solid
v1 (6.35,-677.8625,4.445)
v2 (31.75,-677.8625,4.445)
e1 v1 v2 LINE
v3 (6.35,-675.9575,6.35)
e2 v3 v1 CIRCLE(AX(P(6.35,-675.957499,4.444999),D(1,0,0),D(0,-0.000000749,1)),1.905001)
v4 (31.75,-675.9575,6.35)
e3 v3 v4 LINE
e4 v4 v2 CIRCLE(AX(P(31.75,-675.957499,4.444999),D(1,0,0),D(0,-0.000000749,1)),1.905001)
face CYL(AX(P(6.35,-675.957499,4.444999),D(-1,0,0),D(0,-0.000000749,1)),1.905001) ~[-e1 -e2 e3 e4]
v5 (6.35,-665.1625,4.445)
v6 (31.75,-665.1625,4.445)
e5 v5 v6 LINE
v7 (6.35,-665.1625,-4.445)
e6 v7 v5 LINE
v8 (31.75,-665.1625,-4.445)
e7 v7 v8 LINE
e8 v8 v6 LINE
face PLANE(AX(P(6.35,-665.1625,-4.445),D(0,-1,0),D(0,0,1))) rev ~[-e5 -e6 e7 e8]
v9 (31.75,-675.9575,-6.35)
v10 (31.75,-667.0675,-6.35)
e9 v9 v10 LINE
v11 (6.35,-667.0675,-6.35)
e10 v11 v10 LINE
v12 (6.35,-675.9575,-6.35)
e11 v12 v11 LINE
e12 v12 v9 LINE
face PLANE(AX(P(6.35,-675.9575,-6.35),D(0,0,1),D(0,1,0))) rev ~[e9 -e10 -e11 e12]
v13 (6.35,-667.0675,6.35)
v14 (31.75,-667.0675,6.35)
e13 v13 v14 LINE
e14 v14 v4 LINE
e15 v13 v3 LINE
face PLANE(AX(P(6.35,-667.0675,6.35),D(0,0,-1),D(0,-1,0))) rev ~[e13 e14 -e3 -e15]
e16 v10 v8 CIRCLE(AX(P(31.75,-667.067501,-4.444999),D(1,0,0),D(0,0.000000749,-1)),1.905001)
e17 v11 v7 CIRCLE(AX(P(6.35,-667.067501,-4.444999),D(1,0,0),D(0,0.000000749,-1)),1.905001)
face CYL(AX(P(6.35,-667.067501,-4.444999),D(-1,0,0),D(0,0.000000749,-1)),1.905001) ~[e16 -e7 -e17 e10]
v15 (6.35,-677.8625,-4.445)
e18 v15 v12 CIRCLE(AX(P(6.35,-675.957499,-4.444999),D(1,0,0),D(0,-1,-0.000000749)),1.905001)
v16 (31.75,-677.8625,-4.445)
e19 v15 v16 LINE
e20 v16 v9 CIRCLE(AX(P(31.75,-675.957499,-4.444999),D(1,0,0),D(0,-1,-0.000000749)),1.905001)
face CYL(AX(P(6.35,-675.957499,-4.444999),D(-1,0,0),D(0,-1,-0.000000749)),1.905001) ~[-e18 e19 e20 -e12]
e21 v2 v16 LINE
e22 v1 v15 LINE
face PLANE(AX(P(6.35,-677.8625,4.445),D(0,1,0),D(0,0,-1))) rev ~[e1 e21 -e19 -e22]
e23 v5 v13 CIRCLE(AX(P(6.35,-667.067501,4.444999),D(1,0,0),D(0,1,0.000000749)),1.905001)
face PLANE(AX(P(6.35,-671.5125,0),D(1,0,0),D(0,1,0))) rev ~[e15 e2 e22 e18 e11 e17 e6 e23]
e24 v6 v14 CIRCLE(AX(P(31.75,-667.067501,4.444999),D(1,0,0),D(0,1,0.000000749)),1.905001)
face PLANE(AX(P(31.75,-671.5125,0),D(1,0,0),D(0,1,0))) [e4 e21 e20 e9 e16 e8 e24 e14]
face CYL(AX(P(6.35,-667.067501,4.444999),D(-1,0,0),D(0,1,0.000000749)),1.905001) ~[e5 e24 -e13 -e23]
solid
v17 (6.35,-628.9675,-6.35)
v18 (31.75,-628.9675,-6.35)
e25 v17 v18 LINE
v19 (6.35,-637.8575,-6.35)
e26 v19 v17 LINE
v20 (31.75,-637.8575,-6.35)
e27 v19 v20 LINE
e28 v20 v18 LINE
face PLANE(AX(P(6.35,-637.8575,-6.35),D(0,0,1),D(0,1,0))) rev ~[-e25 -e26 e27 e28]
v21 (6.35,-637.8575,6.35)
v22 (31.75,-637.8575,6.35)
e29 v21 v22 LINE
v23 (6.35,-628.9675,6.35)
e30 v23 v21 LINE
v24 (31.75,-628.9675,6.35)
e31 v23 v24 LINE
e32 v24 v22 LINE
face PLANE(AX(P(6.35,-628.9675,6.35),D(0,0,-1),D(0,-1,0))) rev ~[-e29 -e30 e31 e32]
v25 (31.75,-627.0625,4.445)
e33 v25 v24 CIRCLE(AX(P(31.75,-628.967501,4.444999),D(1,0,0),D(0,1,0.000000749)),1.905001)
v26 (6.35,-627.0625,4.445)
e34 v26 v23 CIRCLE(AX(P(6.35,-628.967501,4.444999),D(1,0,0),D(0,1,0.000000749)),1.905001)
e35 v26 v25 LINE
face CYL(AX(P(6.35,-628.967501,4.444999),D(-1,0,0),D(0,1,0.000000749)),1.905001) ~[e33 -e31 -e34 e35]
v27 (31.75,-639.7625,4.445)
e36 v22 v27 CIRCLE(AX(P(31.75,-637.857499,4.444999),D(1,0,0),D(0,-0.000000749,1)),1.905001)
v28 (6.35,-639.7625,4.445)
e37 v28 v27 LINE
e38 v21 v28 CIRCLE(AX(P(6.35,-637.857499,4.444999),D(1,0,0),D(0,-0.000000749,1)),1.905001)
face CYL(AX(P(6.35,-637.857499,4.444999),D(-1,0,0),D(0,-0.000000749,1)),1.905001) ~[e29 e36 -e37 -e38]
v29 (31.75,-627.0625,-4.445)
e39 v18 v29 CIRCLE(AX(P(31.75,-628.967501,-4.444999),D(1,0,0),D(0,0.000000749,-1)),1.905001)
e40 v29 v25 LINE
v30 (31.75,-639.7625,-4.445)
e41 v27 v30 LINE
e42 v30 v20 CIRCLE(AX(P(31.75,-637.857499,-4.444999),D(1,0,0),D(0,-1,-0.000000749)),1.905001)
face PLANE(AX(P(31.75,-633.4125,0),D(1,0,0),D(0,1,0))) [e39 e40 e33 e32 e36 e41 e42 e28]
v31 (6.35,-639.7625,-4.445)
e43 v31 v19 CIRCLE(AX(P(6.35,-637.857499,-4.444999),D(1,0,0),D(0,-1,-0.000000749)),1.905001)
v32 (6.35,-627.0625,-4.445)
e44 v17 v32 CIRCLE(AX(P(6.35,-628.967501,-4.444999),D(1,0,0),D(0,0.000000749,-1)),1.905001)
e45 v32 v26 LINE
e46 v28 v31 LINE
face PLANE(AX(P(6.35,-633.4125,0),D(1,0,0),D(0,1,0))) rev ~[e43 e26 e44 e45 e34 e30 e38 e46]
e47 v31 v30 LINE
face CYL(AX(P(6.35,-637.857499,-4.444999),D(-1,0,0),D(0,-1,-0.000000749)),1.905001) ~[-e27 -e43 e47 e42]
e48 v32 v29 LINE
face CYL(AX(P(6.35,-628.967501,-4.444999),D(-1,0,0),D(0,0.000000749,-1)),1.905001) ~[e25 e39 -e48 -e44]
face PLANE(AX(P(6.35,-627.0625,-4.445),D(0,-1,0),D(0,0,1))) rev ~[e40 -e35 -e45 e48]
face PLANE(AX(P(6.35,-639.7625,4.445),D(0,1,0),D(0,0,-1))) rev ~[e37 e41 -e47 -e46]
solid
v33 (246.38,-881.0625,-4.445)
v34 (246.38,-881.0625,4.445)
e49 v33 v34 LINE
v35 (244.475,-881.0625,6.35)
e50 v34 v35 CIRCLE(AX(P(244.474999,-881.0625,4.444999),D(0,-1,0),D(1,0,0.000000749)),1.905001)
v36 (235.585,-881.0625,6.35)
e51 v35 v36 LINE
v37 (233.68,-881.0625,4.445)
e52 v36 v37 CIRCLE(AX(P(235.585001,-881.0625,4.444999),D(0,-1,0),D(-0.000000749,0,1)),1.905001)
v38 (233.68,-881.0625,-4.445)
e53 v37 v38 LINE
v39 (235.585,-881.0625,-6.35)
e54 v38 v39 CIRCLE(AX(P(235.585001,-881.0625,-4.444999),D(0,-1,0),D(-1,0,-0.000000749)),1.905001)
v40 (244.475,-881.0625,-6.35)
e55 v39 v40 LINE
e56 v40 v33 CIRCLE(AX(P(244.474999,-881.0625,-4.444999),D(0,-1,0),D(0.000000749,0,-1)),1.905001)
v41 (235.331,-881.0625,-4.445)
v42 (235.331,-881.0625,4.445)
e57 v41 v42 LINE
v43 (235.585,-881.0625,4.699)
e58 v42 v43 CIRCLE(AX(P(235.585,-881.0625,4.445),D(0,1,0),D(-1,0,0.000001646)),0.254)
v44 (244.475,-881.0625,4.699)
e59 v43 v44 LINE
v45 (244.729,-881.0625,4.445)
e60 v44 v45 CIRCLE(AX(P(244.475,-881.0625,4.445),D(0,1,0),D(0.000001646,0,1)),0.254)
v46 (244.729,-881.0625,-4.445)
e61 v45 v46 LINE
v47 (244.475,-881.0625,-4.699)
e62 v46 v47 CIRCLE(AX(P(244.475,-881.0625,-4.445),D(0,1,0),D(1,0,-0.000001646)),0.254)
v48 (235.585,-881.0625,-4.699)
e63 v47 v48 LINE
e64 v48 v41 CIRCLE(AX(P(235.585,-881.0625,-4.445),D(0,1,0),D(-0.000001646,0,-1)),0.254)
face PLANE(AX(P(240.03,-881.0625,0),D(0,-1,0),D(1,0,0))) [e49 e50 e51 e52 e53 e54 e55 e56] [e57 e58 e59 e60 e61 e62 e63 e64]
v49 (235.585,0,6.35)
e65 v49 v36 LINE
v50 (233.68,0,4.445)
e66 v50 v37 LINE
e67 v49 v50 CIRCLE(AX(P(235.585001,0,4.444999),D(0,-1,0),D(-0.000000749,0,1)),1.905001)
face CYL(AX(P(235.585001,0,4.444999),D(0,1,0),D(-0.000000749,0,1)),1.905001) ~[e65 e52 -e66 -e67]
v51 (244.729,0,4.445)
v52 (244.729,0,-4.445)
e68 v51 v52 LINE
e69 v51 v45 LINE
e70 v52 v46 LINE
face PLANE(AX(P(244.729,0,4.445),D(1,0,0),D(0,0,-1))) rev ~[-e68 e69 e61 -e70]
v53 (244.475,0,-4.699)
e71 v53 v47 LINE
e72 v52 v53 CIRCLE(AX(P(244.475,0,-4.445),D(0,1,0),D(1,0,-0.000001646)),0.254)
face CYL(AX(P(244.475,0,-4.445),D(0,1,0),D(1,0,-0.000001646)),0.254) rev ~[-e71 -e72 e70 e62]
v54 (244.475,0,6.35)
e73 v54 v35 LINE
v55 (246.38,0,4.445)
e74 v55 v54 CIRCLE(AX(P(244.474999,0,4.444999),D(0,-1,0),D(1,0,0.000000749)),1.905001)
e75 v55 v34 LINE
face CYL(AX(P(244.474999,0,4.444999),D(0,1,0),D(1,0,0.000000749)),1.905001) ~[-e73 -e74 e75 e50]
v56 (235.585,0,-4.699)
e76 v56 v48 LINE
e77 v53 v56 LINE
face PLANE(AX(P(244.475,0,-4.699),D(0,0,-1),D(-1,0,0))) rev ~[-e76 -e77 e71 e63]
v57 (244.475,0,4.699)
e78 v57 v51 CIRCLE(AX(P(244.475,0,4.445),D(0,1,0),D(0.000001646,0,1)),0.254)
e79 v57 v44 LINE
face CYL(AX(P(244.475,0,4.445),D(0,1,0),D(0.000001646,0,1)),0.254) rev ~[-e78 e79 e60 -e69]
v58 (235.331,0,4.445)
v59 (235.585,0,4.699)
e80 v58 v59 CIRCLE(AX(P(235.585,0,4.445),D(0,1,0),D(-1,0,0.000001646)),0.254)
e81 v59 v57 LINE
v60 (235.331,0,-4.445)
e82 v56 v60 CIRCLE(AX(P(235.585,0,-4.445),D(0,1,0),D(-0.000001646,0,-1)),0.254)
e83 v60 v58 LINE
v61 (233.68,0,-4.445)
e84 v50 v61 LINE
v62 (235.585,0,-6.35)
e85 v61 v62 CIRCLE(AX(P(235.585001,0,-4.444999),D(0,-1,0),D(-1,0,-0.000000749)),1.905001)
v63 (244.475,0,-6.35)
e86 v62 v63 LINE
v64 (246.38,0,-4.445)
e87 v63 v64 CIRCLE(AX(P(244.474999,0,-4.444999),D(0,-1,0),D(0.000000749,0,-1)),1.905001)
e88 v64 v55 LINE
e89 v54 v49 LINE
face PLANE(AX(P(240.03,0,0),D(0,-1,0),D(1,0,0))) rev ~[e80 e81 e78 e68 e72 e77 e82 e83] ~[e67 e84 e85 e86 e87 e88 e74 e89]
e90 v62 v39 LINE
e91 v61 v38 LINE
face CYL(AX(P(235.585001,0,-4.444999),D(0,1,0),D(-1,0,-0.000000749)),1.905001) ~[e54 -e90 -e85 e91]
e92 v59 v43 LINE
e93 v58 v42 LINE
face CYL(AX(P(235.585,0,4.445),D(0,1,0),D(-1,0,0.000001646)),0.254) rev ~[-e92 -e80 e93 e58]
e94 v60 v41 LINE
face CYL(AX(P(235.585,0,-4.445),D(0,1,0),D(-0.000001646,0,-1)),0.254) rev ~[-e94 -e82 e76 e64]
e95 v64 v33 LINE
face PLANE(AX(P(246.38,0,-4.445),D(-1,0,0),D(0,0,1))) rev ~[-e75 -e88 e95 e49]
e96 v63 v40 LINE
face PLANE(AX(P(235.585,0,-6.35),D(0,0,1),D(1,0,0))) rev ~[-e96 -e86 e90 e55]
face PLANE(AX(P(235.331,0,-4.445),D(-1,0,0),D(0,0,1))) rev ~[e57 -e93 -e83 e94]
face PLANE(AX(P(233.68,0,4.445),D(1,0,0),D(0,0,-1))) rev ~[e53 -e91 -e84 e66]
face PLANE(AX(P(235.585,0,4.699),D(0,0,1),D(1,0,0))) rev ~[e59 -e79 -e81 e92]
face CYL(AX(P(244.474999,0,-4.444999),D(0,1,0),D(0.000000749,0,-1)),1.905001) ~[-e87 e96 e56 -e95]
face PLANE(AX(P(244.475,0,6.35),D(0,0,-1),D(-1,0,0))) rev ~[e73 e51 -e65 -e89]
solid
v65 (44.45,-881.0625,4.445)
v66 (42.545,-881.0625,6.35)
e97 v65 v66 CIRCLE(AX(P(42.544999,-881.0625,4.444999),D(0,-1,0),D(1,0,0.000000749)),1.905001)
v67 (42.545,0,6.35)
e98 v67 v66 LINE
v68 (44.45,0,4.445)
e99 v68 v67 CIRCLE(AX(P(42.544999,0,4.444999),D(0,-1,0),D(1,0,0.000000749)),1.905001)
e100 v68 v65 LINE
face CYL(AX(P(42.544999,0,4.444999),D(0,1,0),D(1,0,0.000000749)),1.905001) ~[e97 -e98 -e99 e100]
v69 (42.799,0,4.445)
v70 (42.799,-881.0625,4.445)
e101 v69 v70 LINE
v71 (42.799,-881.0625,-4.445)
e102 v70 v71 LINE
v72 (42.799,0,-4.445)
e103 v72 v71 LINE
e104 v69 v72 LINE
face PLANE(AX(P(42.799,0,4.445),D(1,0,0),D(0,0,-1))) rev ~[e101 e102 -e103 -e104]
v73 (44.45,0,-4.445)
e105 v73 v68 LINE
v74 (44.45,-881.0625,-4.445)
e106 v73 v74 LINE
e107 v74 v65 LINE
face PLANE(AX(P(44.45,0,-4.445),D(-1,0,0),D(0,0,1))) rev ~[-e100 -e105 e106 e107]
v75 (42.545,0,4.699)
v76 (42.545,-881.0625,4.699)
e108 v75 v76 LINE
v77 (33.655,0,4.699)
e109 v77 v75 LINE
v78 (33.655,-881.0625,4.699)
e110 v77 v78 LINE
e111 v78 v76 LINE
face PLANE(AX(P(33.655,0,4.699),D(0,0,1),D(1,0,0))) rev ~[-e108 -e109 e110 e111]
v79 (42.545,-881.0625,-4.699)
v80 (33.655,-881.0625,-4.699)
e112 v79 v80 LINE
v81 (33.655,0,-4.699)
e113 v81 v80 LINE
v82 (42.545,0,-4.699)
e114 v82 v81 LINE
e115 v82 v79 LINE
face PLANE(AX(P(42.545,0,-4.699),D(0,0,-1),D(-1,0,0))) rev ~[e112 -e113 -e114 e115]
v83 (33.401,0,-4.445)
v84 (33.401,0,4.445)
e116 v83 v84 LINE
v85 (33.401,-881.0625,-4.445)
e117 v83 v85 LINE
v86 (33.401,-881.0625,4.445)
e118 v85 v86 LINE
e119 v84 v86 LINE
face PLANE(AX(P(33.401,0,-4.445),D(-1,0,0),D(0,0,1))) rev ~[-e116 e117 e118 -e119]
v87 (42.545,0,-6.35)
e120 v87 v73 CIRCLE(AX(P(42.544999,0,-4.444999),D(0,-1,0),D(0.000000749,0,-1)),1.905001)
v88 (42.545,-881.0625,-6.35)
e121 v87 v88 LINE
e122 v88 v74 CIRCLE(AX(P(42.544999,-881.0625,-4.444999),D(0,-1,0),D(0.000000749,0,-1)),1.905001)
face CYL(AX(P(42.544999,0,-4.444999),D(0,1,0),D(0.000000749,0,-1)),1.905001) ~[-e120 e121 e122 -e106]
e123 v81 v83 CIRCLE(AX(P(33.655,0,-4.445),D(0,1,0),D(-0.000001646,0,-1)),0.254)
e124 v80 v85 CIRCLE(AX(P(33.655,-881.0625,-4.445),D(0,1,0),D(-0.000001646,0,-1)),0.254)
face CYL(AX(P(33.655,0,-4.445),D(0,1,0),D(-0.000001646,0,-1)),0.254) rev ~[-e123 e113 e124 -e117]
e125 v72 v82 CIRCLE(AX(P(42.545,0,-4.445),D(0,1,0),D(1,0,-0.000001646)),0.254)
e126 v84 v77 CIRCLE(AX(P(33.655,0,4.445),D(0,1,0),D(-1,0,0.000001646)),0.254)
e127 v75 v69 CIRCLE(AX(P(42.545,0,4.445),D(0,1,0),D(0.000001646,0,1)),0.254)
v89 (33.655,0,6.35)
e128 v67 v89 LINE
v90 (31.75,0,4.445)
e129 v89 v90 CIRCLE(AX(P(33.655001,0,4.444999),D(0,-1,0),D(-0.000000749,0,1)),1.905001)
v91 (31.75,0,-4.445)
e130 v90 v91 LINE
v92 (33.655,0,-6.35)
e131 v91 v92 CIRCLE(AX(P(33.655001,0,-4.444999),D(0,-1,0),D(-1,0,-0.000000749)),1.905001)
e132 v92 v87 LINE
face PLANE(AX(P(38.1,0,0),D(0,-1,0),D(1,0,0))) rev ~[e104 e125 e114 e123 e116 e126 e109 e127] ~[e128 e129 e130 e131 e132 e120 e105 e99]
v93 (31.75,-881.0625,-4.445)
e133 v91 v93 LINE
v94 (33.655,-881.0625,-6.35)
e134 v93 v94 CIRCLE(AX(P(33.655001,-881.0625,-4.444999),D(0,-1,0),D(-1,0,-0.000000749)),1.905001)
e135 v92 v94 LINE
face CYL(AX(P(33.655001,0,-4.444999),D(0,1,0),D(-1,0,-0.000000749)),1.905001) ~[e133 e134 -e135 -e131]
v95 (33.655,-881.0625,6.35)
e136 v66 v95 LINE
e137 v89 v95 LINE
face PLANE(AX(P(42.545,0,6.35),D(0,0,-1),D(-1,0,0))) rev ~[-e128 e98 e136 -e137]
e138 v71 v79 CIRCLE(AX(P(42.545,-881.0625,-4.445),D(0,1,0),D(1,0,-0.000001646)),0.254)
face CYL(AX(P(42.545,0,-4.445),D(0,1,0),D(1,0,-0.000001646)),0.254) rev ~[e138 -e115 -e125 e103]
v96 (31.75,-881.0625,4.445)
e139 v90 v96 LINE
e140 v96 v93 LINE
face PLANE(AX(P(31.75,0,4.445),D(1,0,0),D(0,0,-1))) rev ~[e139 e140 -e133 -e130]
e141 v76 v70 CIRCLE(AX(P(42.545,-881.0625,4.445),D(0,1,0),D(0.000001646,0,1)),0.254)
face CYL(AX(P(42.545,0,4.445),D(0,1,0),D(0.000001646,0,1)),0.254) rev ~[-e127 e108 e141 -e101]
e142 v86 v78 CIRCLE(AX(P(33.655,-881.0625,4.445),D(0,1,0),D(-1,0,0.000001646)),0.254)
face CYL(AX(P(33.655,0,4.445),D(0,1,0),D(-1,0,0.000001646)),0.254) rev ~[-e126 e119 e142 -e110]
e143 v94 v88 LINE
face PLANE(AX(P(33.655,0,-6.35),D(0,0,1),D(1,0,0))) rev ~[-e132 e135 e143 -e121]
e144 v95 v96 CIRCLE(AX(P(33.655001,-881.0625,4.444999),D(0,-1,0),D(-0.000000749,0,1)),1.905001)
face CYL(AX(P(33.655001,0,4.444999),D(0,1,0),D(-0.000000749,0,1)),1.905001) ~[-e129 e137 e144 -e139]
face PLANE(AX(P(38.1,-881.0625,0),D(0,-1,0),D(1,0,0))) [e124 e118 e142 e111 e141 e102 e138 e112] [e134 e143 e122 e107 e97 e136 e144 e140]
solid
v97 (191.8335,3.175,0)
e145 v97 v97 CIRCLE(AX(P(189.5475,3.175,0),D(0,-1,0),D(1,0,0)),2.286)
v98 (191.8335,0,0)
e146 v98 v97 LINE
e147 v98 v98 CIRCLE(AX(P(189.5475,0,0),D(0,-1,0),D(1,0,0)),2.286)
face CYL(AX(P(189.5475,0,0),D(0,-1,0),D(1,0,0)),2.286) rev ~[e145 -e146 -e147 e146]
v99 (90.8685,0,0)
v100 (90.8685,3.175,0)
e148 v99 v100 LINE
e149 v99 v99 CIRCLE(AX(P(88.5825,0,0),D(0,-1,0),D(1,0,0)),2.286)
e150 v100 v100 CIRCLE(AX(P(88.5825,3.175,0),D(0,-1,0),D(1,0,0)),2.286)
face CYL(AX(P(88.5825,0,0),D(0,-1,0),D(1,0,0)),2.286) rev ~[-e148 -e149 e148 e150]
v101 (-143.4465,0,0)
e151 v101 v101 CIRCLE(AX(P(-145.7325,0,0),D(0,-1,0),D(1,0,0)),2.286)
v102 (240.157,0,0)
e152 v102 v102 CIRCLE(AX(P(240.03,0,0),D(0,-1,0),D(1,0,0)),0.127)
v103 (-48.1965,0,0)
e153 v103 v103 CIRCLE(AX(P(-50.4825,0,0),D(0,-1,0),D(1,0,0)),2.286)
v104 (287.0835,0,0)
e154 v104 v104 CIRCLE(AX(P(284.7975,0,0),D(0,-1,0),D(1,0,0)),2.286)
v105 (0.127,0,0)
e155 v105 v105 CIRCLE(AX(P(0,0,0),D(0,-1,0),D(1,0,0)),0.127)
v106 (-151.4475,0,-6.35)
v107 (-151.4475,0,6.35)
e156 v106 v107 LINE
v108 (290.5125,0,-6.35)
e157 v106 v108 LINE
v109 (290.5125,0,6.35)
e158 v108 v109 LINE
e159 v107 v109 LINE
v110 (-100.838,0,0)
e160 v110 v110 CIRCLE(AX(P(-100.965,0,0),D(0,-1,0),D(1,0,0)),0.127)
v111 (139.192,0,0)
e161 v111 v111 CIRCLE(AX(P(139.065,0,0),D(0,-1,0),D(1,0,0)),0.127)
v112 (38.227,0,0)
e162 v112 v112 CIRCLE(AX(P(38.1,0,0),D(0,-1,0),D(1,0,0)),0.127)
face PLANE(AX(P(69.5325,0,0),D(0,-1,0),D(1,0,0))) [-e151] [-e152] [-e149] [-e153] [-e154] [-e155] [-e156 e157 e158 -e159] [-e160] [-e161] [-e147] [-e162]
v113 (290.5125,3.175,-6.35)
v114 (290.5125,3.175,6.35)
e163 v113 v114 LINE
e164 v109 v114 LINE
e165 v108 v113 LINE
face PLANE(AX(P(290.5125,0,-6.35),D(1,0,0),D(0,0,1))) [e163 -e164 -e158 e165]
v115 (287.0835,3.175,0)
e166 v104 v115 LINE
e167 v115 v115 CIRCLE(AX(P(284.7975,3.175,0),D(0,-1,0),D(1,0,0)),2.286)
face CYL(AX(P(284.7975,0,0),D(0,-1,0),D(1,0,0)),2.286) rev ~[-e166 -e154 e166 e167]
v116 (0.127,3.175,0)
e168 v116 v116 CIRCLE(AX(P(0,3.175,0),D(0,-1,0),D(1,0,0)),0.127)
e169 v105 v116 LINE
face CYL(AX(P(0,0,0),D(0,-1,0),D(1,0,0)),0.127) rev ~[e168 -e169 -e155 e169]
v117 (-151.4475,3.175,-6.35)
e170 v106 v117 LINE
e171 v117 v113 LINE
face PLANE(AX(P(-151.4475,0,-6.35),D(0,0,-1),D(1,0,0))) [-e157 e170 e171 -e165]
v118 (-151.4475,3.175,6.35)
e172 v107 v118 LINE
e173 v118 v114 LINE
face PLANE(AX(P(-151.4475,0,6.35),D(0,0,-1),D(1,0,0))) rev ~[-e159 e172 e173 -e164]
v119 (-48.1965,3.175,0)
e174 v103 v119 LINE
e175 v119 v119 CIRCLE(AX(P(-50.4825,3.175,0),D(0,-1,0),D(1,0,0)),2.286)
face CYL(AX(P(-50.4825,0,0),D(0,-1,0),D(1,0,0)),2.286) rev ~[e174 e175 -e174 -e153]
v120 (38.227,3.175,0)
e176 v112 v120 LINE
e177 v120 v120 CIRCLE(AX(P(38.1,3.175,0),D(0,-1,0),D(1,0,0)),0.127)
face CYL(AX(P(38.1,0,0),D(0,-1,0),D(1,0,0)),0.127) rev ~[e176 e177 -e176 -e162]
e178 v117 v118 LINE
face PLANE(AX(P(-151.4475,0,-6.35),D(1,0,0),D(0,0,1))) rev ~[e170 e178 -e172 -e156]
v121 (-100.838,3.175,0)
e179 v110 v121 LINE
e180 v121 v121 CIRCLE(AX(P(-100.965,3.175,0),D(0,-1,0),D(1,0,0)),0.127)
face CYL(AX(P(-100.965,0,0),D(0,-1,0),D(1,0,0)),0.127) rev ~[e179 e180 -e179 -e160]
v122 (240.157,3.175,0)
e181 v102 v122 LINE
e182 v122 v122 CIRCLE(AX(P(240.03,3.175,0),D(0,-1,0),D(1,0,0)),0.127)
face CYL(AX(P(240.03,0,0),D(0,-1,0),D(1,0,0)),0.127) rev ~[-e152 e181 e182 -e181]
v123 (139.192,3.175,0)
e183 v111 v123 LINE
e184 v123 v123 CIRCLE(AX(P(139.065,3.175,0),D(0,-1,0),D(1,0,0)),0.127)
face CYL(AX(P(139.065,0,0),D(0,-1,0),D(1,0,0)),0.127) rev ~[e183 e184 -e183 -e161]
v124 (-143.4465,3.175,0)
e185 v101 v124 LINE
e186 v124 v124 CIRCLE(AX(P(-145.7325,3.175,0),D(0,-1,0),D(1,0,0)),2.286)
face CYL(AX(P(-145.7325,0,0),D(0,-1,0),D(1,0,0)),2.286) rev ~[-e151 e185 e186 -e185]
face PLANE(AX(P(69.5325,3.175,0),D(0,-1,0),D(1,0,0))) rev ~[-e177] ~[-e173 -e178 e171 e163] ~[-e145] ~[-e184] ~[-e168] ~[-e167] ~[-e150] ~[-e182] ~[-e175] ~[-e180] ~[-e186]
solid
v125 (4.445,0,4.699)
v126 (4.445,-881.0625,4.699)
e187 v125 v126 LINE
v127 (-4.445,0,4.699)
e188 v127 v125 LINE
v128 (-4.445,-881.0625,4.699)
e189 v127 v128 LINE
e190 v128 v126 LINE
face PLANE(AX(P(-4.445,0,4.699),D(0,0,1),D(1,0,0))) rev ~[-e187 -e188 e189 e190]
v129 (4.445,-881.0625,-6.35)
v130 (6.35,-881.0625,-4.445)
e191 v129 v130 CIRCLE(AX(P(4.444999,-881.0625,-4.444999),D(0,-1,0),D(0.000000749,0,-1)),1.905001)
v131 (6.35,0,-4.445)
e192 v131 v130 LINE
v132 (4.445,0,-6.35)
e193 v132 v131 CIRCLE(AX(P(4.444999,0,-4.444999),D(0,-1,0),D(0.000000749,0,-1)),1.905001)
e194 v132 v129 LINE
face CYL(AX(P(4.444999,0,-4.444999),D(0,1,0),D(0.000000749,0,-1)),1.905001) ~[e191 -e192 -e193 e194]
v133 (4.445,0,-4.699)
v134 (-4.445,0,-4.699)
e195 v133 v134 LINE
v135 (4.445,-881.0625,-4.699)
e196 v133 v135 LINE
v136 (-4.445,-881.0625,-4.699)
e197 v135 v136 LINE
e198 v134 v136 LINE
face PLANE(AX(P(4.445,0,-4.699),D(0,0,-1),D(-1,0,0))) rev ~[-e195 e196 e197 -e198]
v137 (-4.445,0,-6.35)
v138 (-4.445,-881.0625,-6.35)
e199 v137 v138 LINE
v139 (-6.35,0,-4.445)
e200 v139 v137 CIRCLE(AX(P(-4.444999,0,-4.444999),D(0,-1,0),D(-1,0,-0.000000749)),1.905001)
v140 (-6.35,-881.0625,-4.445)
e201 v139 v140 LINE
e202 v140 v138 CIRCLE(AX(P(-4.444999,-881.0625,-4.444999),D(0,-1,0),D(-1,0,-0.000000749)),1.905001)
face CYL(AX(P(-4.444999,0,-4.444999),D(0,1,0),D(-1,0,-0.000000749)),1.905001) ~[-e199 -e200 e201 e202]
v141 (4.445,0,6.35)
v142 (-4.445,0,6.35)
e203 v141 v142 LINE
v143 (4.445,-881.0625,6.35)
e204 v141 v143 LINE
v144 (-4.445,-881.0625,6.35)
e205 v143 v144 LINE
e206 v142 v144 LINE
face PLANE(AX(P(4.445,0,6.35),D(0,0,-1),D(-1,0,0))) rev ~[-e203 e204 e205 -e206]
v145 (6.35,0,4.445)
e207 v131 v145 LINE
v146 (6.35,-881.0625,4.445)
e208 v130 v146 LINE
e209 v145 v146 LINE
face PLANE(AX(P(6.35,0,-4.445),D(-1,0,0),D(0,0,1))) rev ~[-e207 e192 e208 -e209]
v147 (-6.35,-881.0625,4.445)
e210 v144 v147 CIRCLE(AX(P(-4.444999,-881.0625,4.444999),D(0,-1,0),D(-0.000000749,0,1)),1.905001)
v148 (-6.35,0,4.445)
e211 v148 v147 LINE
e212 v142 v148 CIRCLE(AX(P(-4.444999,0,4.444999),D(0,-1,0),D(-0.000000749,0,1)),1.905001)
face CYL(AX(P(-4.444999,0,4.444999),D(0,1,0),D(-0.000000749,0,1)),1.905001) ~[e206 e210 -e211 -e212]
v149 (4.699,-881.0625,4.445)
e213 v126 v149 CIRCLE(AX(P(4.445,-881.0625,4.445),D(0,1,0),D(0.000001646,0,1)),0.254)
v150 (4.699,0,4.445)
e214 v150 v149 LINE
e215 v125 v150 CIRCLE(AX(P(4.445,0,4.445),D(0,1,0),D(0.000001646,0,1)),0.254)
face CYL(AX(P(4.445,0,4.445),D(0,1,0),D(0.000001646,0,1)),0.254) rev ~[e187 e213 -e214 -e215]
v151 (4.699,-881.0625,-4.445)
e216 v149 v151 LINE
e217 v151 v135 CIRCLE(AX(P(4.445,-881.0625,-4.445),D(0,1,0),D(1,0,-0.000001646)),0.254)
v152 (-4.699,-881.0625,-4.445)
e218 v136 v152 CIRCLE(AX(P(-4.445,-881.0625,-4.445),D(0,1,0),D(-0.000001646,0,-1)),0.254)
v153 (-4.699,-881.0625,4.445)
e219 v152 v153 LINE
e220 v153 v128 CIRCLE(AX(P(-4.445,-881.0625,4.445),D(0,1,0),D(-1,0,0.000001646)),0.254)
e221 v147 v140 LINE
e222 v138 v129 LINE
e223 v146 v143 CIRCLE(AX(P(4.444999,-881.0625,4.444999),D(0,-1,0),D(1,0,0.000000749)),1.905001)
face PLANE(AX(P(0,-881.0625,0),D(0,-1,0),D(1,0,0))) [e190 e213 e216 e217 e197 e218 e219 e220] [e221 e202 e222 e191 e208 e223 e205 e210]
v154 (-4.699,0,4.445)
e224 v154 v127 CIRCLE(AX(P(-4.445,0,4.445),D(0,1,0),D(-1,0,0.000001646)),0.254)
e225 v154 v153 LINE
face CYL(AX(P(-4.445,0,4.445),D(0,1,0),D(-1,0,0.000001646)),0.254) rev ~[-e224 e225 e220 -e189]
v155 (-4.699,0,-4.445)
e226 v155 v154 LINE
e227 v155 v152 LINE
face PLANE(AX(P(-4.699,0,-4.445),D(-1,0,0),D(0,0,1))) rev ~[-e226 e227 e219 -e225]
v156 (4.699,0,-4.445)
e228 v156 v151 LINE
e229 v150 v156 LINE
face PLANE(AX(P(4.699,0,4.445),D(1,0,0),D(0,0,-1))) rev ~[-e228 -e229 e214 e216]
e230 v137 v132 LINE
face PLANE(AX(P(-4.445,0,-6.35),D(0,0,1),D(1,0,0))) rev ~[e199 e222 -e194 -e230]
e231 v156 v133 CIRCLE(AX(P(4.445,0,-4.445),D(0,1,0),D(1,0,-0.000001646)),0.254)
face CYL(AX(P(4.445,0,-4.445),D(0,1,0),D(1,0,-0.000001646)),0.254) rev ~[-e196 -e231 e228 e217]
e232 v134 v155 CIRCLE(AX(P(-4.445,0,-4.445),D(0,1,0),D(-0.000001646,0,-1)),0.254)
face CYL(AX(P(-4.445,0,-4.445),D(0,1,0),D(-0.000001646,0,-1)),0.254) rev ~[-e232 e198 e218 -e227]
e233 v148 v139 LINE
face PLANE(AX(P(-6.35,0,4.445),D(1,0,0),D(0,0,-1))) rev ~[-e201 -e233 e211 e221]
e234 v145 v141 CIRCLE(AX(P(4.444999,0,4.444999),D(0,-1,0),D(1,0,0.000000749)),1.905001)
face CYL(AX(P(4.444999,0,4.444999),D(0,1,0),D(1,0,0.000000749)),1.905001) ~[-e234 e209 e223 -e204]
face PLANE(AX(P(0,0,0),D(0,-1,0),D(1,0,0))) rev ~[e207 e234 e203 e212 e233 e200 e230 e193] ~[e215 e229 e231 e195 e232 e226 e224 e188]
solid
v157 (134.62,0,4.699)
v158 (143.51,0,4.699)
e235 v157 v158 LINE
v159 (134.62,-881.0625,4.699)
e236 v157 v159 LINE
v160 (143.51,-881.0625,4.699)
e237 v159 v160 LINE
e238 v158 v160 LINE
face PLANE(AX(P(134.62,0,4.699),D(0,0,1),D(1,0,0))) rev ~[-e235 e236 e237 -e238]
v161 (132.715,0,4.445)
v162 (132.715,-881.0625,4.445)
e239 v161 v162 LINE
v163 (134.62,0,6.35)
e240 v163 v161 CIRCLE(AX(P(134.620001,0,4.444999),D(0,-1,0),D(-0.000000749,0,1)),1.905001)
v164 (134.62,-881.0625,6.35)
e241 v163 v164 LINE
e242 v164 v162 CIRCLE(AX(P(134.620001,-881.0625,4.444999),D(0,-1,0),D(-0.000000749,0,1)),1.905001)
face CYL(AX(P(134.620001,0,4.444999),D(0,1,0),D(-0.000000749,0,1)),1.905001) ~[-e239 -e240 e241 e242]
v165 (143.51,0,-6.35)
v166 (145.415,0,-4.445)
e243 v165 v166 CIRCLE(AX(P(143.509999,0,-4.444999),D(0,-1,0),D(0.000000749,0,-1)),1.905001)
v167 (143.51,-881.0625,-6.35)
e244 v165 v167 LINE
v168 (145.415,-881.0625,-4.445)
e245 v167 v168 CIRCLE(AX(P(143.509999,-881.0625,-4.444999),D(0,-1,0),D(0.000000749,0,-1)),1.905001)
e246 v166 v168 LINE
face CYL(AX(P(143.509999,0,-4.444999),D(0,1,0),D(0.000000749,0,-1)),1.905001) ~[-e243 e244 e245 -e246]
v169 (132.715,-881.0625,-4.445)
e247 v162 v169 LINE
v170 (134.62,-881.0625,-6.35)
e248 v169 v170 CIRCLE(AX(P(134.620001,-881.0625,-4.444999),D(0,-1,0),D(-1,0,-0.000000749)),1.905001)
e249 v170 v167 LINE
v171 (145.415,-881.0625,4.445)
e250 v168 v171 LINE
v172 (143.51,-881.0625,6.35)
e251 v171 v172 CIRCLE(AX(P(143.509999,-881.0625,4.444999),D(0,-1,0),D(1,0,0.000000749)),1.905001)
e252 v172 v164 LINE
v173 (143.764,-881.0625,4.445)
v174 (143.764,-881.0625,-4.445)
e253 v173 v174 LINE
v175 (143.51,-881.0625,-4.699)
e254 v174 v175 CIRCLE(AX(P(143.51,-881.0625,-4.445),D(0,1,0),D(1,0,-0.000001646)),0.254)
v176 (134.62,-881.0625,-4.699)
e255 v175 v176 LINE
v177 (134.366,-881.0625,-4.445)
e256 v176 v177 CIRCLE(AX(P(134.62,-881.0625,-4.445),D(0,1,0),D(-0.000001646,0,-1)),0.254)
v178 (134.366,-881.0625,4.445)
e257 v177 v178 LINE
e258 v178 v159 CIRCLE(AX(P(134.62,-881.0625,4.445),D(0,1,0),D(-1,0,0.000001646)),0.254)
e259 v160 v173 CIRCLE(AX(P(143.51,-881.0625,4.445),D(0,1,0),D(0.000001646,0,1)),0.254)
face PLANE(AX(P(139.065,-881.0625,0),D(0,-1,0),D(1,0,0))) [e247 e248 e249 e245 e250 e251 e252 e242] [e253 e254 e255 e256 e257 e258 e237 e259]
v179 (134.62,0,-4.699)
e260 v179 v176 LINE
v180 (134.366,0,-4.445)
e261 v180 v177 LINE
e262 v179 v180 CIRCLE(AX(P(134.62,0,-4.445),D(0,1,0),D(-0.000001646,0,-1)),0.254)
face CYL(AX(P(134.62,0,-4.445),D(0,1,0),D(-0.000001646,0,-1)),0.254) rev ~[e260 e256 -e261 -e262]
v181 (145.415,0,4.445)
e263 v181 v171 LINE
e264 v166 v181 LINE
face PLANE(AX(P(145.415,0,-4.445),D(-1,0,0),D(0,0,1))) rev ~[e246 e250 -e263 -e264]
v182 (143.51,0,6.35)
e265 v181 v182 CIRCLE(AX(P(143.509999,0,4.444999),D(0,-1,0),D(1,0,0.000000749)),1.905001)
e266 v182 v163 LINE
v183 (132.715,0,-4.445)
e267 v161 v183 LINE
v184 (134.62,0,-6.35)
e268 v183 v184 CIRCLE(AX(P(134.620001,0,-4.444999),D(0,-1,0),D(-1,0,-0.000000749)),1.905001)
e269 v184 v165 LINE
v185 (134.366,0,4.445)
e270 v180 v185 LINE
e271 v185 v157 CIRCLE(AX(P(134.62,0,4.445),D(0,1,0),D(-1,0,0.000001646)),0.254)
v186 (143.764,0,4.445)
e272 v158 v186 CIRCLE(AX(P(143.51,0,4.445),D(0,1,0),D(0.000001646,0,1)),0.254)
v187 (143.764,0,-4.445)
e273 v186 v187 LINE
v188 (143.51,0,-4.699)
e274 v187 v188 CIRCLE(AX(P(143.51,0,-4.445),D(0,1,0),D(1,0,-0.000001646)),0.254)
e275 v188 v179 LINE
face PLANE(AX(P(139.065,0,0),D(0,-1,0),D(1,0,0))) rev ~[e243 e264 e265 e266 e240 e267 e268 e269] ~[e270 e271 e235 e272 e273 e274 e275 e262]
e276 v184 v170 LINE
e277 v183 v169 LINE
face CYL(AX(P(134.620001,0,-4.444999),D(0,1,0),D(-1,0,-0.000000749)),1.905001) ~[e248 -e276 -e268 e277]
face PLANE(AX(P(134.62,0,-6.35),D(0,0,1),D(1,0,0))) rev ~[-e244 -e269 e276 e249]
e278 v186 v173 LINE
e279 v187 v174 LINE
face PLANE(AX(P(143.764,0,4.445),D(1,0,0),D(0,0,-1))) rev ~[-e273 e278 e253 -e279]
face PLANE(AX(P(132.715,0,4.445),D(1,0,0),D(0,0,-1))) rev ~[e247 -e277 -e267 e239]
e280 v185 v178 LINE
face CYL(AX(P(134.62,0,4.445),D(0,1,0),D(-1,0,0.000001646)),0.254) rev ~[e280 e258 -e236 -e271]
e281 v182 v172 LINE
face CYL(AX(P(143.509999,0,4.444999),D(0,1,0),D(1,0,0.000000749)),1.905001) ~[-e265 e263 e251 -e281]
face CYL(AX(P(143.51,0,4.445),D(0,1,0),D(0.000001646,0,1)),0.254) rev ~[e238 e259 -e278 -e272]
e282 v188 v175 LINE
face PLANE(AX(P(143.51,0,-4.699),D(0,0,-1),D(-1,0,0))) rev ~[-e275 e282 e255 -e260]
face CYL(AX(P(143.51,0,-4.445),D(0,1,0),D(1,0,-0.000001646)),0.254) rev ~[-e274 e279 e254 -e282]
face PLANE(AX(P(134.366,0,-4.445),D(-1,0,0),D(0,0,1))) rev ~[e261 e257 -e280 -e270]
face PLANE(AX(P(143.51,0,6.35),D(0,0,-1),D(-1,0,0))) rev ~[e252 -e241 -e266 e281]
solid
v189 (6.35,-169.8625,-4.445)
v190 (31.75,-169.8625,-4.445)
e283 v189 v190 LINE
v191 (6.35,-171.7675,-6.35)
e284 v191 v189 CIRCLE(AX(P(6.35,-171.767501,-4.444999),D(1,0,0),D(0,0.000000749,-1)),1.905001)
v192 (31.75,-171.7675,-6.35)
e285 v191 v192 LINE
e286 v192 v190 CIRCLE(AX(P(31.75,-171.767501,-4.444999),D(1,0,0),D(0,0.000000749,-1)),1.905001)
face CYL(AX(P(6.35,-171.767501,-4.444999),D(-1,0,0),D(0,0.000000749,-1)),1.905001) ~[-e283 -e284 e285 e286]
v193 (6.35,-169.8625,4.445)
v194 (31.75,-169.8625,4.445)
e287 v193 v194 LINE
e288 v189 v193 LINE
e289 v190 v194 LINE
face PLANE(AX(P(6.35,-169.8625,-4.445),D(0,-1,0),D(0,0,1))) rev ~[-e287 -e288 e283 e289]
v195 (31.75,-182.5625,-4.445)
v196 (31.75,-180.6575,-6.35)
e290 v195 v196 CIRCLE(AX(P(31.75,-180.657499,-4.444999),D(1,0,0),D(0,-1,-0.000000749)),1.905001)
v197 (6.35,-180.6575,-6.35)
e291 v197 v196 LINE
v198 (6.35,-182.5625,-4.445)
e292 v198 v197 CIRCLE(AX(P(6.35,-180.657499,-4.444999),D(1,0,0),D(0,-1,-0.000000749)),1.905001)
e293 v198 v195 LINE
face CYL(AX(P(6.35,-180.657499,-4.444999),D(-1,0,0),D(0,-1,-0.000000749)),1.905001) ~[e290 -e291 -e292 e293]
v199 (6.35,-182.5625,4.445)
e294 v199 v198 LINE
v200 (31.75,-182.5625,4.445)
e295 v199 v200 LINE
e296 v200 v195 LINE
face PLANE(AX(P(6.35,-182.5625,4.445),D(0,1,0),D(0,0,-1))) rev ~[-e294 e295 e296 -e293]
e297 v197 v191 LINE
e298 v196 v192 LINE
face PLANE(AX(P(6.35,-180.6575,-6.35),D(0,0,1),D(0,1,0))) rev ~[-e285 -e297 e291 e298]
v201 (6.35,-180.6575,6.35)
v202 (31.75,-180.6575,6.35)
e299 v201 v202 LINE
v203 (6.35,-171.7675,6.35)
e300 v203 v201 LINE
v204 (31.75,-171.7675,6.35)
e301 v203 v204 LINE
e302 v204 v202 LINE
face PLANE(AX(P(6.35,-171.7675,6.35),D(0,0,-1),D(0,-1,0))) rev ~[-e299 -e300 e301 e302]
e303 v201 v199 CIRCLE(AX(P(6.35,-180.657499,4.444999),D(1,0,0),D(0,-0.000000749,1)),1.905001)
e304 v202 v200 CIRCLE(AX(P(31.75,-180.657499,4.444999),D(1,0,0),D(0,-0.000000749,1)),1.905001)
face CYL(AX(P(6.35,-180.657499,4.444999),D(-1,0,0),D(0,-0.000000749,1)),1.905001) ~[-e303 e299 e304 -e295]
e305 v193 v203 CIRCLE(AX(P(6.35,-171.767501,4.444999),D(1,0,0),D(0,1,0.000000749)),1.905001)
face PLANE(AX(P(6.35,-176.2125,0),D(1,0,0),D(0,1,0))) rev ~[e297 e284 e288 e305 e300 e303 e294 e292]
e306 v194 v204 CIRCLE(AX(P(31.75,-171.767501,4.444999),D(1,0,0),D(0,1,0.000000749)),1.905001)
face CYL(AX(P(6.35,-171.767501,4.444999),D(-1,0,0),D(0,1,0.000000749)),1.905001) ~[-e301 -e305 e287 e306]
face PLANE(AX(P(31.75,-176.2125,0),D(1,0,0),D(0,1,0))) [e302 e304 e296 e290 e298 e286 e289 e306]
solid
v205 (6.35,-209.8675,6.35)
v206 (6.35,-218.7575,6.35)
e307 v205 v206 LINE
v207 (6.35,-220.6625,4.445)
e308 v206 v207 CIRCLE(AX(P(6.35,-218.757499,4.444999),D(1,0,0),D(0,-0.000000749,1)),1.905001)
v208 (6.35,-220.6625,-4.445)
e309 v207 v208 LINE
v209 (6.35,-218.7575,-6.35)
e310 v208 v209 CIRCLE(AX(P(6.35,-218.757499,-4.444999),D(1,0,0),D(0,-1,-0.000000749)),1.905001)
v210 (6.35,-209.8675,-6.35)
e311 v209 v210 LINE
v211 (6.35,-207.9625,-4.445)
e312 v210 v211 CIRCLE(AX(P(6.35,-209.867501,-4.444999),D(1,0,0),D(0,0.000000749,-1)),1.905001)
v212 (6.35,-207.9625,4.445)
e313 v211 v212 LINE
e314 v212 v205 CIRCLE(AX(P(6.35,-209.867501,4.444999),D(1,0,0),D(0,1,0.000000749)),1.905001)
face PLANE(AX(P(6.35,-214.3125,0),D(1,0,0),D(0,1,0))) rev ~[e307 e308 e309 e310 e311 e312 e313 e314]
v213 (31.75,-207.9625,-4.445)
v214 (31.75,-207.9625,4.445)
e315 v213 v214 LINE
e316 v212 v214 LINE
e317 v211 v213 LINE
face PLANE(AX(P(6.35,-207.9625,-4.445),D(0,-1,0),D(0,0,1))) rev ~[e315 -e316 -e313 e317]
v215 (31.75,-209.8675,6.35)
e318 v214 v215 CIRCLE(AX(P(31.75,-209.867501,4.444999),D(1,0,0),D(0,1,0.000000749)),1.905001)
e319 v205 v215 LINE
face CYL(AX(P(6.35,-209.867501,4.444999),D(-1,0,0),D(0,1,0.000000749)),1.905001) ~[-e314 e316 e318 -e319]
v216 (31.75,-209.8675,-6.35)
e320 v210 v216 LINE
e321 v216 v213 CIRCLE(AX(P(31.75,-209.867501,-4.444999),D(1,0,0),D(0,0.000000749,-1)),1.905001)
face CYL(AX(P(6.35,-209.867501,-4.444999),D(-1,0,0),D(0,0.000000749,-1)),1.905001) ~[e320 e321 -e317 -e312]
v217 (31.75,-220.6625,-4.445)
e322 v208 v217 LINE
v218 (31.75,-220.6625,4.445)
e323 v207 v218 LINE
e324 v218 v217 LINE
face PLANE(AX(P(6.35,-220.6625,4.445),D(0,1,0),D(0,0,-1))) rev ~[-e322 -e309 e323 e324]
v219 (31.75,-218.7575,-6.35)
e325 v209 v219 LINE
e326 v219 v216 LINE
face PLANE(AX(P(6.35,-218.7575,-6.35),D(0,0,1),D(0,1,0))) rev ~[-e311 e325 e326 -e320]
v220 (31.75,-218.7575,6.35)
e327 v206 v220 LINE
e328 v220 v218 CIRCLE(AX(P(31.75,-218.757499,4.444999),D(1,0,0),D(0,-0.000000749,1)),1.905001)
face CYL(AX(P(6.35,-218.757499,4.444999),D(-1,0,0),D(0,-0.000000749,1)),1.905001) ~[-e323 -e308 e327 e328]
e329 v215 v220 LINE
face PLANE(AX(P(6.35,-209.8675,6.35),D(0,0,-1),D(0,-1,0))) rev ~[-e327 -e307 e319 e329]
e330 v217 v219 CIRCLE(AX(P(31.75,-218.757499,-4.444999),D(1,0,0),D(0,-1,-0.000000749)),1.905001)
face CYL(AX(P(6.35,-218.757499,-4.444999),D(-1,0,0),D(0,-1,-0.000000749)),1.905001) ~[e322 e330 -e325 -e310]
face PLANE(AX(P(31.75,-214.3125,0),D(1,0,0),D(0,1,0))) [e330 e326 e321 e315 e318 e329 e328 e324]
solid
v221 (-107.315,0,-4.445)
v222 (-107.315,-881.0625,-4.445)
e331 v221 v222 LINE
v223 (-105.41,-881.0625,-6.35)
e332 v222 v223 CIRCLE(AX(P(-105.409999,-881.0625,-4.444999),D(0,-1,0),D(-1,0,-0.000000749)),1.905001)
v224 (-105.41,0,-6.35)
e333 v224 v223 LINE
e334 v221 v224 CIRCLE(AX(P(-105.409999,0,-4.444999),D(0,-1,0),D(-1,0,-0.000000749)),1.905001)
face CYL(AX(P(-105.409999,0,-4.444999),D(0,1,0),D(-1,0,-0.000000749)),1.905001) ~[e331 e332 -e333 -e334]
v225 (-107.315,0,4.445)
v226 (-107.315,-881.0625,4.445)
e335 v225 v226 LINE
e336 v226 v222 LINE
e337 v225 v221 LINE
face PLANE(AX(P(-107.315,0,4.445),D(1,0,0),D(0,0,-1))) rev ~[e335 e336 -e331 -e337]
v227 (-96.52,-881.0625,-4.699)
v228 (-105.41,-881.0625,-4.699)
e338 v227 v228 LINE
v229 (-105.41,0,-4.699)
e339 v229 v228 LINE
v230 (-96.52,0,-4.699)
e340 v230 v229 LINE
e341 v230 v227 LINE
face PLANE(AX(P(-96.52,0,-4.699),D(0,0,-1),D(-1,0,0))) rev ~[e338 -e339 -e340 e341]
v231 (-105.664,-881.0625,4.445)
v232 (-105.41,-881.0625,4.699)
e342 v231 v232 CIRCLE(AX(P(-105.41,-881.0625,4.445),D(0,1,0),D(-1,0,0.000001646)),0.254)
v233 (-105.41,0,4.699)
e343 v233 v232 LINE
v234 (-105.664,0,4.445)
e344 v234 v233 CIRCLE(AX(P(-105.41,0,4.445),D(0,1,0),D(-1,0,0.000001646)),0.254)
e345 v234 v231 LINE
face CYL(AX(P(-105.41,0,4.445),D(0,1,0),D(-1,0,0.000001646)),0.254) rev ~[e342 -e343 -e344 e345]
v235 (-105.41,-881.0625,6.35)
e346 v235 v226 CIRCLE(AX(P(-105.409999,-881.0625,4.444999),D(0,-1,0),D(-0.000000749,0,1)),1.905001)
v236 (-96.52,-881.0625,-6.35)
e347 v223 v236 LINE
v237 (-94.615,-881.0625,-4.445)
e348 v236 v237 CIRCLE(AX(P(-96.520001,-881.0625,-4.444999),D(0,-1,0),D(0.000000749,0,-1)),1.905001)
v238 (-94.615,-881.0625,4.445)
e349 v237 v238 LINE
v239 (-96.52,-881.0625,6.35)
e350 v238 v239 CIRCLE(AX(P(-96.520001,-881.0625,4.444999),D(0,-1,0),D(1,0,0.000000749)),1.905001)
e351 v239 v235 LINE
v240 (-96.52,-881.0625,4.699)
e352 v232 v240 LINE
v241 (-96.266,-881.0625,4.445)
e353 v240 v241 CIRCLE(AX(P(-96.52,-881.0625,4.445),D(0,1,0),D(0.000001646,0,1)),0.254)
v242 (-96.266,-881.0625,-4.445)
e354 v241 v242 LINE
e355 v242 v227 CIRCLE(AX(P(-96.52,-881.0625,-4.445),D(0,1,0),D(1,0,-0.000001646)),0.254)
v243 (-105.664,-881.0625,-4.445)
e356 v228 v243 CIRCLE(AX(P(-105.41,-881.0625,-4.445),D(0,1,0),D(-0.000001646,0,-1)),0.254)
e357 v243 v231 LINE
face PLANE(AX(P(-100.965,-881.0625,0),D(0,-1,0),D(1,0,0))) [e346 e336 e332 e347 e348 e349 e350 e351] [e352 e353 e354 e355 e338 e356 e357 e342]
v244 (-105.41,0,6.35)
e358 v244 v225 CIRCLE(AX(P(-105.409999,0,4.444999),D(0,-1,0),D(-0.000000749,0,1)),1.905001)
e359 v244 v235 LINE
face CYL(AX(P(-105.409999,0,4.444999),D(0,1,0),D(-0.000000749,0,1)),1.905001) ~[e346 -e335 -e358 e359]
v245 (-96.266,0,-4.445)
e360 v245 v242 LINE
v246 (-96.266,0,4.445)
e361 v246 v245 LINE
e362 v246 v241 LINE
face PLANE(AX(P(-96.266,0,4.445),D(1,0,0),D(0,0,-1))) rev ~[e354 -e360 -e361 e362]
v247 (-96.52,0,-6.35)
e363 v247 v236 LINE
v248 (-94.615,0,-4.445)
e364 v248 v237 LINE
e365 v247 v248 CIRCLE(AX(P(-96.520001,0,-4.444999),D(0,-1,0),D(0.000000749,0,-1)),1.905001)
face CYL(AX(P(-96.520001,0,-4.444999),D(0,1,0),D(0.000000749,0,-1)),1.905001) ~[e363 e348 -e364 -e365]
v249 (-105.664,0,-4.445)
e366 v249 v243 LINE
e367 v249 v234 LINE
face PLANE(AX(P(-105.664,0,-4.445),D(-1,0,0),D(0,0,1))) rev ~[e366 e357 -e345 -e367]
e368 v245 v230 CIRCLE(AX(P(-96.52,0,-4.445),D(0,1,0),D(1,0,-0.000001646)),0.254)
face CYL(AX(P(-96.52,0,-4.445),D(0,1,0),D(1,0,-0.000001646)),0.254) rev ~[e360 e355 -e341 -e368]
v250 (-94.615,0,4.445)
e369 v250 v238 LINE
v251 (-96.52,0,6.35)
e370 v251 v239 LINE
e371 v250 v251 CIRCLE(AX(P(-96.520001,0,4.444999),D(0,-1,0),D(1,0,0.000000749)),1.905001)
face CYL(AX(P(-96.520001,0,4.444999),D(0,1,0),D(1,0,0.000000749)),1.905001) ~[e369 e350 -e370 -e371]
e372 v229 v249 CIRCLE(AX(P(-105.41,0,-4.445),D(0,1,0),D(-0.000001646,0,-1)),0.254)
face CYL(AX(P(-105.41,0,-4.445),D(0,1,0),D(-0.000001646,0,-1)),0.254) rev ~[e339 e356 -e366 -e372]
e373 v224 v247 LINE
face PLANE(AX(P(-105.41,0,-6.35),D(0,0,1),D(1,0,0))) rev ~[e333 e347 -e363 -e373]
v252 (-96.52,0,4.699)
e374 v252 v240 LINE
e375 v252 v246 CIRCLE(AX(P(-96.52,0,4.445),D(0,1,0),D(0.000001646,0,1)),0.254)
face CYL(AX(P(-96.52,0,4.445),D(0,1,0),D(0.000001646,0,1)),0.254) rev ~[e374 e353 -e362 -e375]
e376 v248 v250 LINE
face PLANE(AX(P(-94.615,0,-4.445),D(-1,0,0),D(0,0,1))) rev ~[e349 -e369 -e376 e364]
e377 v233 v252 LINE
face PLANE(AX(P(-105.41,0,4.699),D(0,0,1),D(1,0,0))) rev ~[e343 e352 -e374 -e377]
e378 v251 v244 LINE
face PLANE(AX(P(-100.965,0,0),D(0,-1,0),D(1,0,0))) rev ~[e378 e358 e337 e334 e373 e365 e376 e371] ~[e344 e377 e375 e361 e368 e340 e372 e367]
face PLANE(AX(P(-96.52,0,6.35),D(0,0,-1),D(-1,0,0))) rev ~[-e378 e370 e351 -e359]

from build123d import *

# Parameters (mm, degrees)
F1_DEPTH = 881.0625
F3_DEPTH = 25.4
F4_W     = 441.96
F4_H     = 12.7
F4_R     = 2.286
F4_R_2   = 0.127
F5_DEPTH = 3.175


with BuildPart() as f1:
    # F0 (on Front) → F1 (new body)
    with BuildSketch(Plane.XZ):
        with BuildLine():
            Line((-4.445, -6.35), (4.445, -6.35))
            ThreePointArc((4.445, -6.35), (5.792038, -5.792038), (6.35, -4.445))
            Line((6.35, -4.445), (6.35, 4.445))
            ThreePointArc((6.35, 4.445), (5.792038, 5.792038), (4.445, 6.35))
            Line((4.445, 6.35), (-4.445, 6.35))
            ThreePointArc((-4.445, 6.35), (-5.792038, 5.792038), (-6.35, 4.445))
            Line((-6.35, 4.445), (-6.35, -4.445))
            ThreePointArc((-6.35, -4.445), (-5.792038, -5.792038), (-4.445, -6.35))
        make_face()
        with BuildLine():
            Line((-4.445, 4.699), (4.445, 4.699))
            ThreePointArc((4.445, 4.699), (4.624605, 4.624605), (4.699, 4.445))
            Line((4.699, 4.445), (4.699, -4.445))
            ThreePointArc((4.699, -4.445), (4.624605, -4.624605), (4.445, -4.699))
            Line((4.445, -4.699), (-4.445, -4.699))
            ThreePointArc((-4.445, -4.699), (-4.624605, -4.624605), (-4.699, -4.445))
            Line((-4.699, -4.445), (-4.699, 4.445))
            ThreePointArc((-4.699, 4.445), (-4.624605, 4.624605), (-4.445, 4.699))
        make_face(mode=Mode.SUBTRACT)
        with BuildLine():
            Line((33.655, -6.35), (42.545, -6.35))
            ThreePointArc((42.545, -6.35), (43.892038, -5.792038), (44.45, -4.445))
            Line((44.45, -4.445), (44.45, 4.445))
            ThreePointArc((44.45, 4.445), (43.892038, 5.792038), (42.545, 6.35))
            Line((42.545, 6.35), (33.655, 6.35))
            ThreePointArc((33.655, 6.35), (32.307962, 5.792038), (31.75, 4.445))
            Line((31.75, 4.445), (31.75, -4.445))
            ThreePointArc((31.75, -4.445), (32.307962, -5.792038), (33.655, -6.35))
        make_face()
        with BuildLine():
            ThreePointArc((33.655, -4.699), (33.475395, -4.624605), (33.401, -4.445))
            Line((33.401, -4.445), (33.401, 4.445))
            ThreePointArc((33.401, 4.445), (33.475395, 4.624605), (33.655, 4.699))
            Line((33.655, 4.699), (42.545, 4.699))
            ThreePointArc((42.545, 4.699), (42.724605, 4.624605), (42.799, 4.445))
            Line((42.799, 4.445), (42.799, -4.445))
            ThreePointArc((42.799, -4.445), (42.724605, -4.624605), (42.545, -4.699))
            Line((42.545, -4.699), (33.655, -4.699))
        make_face(mode=Mode.SUBTRACT)
        with BuildLine():
            Line((132.715, 4.445), (132.715, -4.445))
            ThreePointArc((132.715, -4.445), (133.272962, -5.792038), (134.62, -6.35))
            Line((134.62, -6.35), (143.51, -6.35))
            ThreePointArc((143.51, -6.35), (144.857038, -5.792038), (145.415, -4.445))
            Line((145.415, -4.445), (145.415, 4.445))
            ThreePointArc((145.415, 4.445), (144.857038, 5.792038), (143.51, 6.35))
            Line((143.51, 6.35), (134.62, 6.35))
            ThreePointArc((134.62, 6.35), (133.272962, 5.792038), (132.715, 4.445))
        make_face()
        with BuildLine():
            Line((143.764, 4.445), (143.764, -4.445))
            ThreePointArc((143.764, -4.445), (143.689605, -4.624605), (143.51, -4.699))
            Line((143.51, -4.699), (134.62, -4.699))
            ThreePointArc((134.62, -4.699), (134.440395, -4.624605), (134.366, -4.445))
            Line((134.366, -4.445), (134.366, 4.445))
            ThreePointArc((134.366, 4.445), (134.440395, 4.624605), (134.62, 4.699))
            Line((134.62, 4.699), (143.51, 4.699))
            ThreePointArc((143.51, 4.699), (143.689605, 4.624605), (143.764, 4.445))
        make_face(mode=Mode.SUBTRACT)
        with BuildLine():
            Line((233.68, 4.445), (233.68, -4.445))
            ThreePointArc((233.68, -4.445), (234.237962, -5.792038), (235.585, -6.35))
            Line((235.585, -6.35), (244.475, -6.35))
            ThreePointArc((244.475, -6.35), (245.822038, -5.792038), (246.38, -4.445))
            Line((246.38, -4.445), (246.38, 4.445))
            ThreePointArc((246.38, 4.445), (245.822038, 5.792038), (244.475, 6.35))
            Line((244.475, 6.35), (235.585, 6.35))
            ThreePointArc((235.585, 6.35), (234.237962, 5.792038), (233.68, 4.445))
        make_face()
        with BuildLine():
            Line((244.729, 4.445), (244.729, -4.445))
            ThreePointArc((244.729, -4.445), (244.654605, -4.624605), (244.475, -4.699))
            Line((244.475, -4.699), (235.585, -4.699))
            ThreePointArc((235.585, -4.699), (235.405395, -4.624605), (235.331, -4.445))
            Line((235.331, -4.445), (235.331, 4.445))
            ThreePointArc((235.331, 4.445), (235.405395, 4.624605), (235.585, 4.699))
            Line((235.585, 4.699), (244.475, 4.699))
            ThreePointArc((244.475, 4.699), (244.654605, 4.624605), (244.729, 4.445))
        make_face(mode=Mode.SUBTRACT)
        with BuildLine():
            Line((-105.41, -6.35), (-96.52, -6.35))
            ThreePointArc((-96.52, -6.35), (-95.172962, -5.792038), (-94.615, -4.445))
            Line((-94.615, -4.445), (-94.615, 4.445))
            ThreePointArc((-94.615, 4.445), (-95.172962, 5.792038), (-96.52, 6.35))
            Line((-96.52, 6.35), (-105.41, 6.35))
            ThreePointArc((-105.41, 6.35), (-106.757038, 5.792038), (-107.315, 4.445))
            Line((-107.315, 4.445), (-107.315, -4.445))
            ThreePointArc((-107.315, -4.445), (-106.757038, -5.792038), (-105.41, -6.35))
        make_face()
        with BuildLine():
            ThreePointArc((-96.266, -4.445), (-96.340395, -4.624605), (-96.52, -4.699))
            Line((-96.52, -4.699), (-105.41, -4.699))
            ThreePointArc((-105.41, -4.699), (-105.589605, -4.624605), (-105.664, -4.445))
            Line((-105.664, -4.445), (-105.664, 4.445))
            ThreePointArc((-105.664, 4.445), (-105.589605, 4.624605), (-105.41, 4.699))
            Line((-105.41, 4.699), (-96.52, 4.699))
            ThreePointArc((-96.52, 4.699), (-96.340395, 4.624605), (-96.266, 4.445))
            Line((-96.266, 4.445), (-96.266, -4.445))
        make_face(mode=Mode.SUBTRACT)
    extrude(amount=F1_DEPTH)


with BuildPart() as f3:
    # F2 (on face) → F3 (new body)
    with BuildSketch(Plane.YZ.offset(6.35)):
        with BuildLine():
            ThreePointArc((-665.1625, 4.445), (-665.720462, 5.792038), (-667.0675, 6.35))
            Line((-667.0675, 6.35), (-675.9575, 6.35))
            ThreePointArc((-675.9575, 6.35), (-677.304538, 5.792038), (-677.8625, 4.445))
            Line((-677.8625, 4.445), (-677.8625, -4.445))
            ThreePointArc((-677.8625, -4.445), (-677.304538, -5.792038), (-675.9575, -6.35))
            Line((-675.9575, -6.35), (-667.0675, -6.35))
            ThreePointArc((-667.0675, -6.35), (-665.720462, -5.792038), (-665.1625, -4.445))
            Line((-665.1625, -4.445), (-665.1625, 4.445))
        make_face()
        with BuildLine():
            ThreePointArc((-627.0625, 4.445), (-627.620462, 5.792038), (-628.9675, 6.35))
            Line((-628.9675, 6.35), (-637.8575, 6.35))
            ThreePointArc((-637.8575, 6.35), (-639.204538, 5.792038), (-639.7625, 4.445))
            Line((-639.7625, 4.445), (-639.7625, -4.445))
            ThreePointArc((-639.7625, -4.445), (-639.204538, -5.792038), (-637.8575, -6.35))
            Line((-637.8575, -6.35), (-628.9675, -6.35))
            ThreePointArc((-628.9675, -6.35), (-627.620462, -5.792038), (-627.0625, -4.445))
            Line((-627.0625, -4.445), (-627.0625, 4.445))
        make_face()
        with BuildLine():
            Line((-180.6575, -6.35), (-171.7675, -6.35))
            ThreePointArc((-171.7675, -6.35), (-170.420462, -5.792038), (-169.8625, -4.445))
            Line((-169.8625, -4.445), (-169.8625, 4.445))
            ThreePointArc((-169.8625, 4.445), (-170.420462, 5.792038), (-171.7675, 6.35))
            Line((-171.7675, 6.35), (-180.6575, 6.35))
            ThreePointArc((-180.6575, 6.35), (-182.004538, 5.792038), (-182.5625, 4.445))
            Line((-182.5625, 4.445), (-182.5625, -4.445))
            ThreePointArc((-182.5625, -4.445), (-182.004538, -5.792038), (-180.6575, -6.35))
        make_face()
        with BuildLine():
            ThreePointArc((-207.9625, 4.445), (-208.520462, 5.792038), (-209.8675, 6.35))
            Line((-209.8675, 6.35), (-218.7575, 6.35))
            ThreePointArc((-218.7575, 6.35), (-220.104538, 5.792038), (-220.6625, 4.445))
            Line((-220.6625, 4.445), (-220.6625, -4.445))
            ThreePointArc((-220.6625, -4.445), (-220.104538, -5.792038), (-218.7575, -6.35))
            Line((-218.7575, -6.35), (-209.8675, -6.35))
            ThreePointArc((-209.8675, -6.35), (-208.520462, -5.792038), (-207.9625, -4.445))
            Line((-207.9625, -4.445), (-207.9625, 4.445))
        make_face()
    extrude(amount=F3_DEPTH)


with BuildPart() as f5:
    # F4 (on Front) → F5 (new body)
    with BuildSketch(Plane.XZ):
        with Locations((69.5325, 0)):
            Rectangle(F4_W, F4_H)
        with Locations((-145.7325, 0)):
            Circle(F4_R, mode=Mode.SUBTRACT)
        with Locations((-100.965, 0)):
            Circle(F4_R_2, mode=Mode.SUBTRACT)
        with Locations((-50.4825, 0)):
            Circle(F4_R, mode=Mode.SUBTRACT)
        Circle(F4_R_2, mode=Mode.SUBTRACT)
        with Locations((38.1, 0)):
            Circle(F4_R_2, mode=Mode.SUBTRACT)
        with Locations((88.5825, 0)):
            Circle(F4_R, mode=Mode.SUBTRACT)
        with Locations((139.065, 0)):
            Circle(F4_R_2, mode=Mode.SUBTRACT)
        with Locations((189.5475, 0)):
            Circle(F4_R, mode=Mode.SUBTRACT)
        with Locations((240.03, 0)):
            Circle(F4_R_2, mode=Mode.SUBTRACT)
        with Locations((284.7975, 0)):
            Circle(F4_R, mode=Mode.SUBTRACT)
    extrude(amount=-F5_DEPTH)


solid = Compound([f1.part, f3.part, f5.part])
